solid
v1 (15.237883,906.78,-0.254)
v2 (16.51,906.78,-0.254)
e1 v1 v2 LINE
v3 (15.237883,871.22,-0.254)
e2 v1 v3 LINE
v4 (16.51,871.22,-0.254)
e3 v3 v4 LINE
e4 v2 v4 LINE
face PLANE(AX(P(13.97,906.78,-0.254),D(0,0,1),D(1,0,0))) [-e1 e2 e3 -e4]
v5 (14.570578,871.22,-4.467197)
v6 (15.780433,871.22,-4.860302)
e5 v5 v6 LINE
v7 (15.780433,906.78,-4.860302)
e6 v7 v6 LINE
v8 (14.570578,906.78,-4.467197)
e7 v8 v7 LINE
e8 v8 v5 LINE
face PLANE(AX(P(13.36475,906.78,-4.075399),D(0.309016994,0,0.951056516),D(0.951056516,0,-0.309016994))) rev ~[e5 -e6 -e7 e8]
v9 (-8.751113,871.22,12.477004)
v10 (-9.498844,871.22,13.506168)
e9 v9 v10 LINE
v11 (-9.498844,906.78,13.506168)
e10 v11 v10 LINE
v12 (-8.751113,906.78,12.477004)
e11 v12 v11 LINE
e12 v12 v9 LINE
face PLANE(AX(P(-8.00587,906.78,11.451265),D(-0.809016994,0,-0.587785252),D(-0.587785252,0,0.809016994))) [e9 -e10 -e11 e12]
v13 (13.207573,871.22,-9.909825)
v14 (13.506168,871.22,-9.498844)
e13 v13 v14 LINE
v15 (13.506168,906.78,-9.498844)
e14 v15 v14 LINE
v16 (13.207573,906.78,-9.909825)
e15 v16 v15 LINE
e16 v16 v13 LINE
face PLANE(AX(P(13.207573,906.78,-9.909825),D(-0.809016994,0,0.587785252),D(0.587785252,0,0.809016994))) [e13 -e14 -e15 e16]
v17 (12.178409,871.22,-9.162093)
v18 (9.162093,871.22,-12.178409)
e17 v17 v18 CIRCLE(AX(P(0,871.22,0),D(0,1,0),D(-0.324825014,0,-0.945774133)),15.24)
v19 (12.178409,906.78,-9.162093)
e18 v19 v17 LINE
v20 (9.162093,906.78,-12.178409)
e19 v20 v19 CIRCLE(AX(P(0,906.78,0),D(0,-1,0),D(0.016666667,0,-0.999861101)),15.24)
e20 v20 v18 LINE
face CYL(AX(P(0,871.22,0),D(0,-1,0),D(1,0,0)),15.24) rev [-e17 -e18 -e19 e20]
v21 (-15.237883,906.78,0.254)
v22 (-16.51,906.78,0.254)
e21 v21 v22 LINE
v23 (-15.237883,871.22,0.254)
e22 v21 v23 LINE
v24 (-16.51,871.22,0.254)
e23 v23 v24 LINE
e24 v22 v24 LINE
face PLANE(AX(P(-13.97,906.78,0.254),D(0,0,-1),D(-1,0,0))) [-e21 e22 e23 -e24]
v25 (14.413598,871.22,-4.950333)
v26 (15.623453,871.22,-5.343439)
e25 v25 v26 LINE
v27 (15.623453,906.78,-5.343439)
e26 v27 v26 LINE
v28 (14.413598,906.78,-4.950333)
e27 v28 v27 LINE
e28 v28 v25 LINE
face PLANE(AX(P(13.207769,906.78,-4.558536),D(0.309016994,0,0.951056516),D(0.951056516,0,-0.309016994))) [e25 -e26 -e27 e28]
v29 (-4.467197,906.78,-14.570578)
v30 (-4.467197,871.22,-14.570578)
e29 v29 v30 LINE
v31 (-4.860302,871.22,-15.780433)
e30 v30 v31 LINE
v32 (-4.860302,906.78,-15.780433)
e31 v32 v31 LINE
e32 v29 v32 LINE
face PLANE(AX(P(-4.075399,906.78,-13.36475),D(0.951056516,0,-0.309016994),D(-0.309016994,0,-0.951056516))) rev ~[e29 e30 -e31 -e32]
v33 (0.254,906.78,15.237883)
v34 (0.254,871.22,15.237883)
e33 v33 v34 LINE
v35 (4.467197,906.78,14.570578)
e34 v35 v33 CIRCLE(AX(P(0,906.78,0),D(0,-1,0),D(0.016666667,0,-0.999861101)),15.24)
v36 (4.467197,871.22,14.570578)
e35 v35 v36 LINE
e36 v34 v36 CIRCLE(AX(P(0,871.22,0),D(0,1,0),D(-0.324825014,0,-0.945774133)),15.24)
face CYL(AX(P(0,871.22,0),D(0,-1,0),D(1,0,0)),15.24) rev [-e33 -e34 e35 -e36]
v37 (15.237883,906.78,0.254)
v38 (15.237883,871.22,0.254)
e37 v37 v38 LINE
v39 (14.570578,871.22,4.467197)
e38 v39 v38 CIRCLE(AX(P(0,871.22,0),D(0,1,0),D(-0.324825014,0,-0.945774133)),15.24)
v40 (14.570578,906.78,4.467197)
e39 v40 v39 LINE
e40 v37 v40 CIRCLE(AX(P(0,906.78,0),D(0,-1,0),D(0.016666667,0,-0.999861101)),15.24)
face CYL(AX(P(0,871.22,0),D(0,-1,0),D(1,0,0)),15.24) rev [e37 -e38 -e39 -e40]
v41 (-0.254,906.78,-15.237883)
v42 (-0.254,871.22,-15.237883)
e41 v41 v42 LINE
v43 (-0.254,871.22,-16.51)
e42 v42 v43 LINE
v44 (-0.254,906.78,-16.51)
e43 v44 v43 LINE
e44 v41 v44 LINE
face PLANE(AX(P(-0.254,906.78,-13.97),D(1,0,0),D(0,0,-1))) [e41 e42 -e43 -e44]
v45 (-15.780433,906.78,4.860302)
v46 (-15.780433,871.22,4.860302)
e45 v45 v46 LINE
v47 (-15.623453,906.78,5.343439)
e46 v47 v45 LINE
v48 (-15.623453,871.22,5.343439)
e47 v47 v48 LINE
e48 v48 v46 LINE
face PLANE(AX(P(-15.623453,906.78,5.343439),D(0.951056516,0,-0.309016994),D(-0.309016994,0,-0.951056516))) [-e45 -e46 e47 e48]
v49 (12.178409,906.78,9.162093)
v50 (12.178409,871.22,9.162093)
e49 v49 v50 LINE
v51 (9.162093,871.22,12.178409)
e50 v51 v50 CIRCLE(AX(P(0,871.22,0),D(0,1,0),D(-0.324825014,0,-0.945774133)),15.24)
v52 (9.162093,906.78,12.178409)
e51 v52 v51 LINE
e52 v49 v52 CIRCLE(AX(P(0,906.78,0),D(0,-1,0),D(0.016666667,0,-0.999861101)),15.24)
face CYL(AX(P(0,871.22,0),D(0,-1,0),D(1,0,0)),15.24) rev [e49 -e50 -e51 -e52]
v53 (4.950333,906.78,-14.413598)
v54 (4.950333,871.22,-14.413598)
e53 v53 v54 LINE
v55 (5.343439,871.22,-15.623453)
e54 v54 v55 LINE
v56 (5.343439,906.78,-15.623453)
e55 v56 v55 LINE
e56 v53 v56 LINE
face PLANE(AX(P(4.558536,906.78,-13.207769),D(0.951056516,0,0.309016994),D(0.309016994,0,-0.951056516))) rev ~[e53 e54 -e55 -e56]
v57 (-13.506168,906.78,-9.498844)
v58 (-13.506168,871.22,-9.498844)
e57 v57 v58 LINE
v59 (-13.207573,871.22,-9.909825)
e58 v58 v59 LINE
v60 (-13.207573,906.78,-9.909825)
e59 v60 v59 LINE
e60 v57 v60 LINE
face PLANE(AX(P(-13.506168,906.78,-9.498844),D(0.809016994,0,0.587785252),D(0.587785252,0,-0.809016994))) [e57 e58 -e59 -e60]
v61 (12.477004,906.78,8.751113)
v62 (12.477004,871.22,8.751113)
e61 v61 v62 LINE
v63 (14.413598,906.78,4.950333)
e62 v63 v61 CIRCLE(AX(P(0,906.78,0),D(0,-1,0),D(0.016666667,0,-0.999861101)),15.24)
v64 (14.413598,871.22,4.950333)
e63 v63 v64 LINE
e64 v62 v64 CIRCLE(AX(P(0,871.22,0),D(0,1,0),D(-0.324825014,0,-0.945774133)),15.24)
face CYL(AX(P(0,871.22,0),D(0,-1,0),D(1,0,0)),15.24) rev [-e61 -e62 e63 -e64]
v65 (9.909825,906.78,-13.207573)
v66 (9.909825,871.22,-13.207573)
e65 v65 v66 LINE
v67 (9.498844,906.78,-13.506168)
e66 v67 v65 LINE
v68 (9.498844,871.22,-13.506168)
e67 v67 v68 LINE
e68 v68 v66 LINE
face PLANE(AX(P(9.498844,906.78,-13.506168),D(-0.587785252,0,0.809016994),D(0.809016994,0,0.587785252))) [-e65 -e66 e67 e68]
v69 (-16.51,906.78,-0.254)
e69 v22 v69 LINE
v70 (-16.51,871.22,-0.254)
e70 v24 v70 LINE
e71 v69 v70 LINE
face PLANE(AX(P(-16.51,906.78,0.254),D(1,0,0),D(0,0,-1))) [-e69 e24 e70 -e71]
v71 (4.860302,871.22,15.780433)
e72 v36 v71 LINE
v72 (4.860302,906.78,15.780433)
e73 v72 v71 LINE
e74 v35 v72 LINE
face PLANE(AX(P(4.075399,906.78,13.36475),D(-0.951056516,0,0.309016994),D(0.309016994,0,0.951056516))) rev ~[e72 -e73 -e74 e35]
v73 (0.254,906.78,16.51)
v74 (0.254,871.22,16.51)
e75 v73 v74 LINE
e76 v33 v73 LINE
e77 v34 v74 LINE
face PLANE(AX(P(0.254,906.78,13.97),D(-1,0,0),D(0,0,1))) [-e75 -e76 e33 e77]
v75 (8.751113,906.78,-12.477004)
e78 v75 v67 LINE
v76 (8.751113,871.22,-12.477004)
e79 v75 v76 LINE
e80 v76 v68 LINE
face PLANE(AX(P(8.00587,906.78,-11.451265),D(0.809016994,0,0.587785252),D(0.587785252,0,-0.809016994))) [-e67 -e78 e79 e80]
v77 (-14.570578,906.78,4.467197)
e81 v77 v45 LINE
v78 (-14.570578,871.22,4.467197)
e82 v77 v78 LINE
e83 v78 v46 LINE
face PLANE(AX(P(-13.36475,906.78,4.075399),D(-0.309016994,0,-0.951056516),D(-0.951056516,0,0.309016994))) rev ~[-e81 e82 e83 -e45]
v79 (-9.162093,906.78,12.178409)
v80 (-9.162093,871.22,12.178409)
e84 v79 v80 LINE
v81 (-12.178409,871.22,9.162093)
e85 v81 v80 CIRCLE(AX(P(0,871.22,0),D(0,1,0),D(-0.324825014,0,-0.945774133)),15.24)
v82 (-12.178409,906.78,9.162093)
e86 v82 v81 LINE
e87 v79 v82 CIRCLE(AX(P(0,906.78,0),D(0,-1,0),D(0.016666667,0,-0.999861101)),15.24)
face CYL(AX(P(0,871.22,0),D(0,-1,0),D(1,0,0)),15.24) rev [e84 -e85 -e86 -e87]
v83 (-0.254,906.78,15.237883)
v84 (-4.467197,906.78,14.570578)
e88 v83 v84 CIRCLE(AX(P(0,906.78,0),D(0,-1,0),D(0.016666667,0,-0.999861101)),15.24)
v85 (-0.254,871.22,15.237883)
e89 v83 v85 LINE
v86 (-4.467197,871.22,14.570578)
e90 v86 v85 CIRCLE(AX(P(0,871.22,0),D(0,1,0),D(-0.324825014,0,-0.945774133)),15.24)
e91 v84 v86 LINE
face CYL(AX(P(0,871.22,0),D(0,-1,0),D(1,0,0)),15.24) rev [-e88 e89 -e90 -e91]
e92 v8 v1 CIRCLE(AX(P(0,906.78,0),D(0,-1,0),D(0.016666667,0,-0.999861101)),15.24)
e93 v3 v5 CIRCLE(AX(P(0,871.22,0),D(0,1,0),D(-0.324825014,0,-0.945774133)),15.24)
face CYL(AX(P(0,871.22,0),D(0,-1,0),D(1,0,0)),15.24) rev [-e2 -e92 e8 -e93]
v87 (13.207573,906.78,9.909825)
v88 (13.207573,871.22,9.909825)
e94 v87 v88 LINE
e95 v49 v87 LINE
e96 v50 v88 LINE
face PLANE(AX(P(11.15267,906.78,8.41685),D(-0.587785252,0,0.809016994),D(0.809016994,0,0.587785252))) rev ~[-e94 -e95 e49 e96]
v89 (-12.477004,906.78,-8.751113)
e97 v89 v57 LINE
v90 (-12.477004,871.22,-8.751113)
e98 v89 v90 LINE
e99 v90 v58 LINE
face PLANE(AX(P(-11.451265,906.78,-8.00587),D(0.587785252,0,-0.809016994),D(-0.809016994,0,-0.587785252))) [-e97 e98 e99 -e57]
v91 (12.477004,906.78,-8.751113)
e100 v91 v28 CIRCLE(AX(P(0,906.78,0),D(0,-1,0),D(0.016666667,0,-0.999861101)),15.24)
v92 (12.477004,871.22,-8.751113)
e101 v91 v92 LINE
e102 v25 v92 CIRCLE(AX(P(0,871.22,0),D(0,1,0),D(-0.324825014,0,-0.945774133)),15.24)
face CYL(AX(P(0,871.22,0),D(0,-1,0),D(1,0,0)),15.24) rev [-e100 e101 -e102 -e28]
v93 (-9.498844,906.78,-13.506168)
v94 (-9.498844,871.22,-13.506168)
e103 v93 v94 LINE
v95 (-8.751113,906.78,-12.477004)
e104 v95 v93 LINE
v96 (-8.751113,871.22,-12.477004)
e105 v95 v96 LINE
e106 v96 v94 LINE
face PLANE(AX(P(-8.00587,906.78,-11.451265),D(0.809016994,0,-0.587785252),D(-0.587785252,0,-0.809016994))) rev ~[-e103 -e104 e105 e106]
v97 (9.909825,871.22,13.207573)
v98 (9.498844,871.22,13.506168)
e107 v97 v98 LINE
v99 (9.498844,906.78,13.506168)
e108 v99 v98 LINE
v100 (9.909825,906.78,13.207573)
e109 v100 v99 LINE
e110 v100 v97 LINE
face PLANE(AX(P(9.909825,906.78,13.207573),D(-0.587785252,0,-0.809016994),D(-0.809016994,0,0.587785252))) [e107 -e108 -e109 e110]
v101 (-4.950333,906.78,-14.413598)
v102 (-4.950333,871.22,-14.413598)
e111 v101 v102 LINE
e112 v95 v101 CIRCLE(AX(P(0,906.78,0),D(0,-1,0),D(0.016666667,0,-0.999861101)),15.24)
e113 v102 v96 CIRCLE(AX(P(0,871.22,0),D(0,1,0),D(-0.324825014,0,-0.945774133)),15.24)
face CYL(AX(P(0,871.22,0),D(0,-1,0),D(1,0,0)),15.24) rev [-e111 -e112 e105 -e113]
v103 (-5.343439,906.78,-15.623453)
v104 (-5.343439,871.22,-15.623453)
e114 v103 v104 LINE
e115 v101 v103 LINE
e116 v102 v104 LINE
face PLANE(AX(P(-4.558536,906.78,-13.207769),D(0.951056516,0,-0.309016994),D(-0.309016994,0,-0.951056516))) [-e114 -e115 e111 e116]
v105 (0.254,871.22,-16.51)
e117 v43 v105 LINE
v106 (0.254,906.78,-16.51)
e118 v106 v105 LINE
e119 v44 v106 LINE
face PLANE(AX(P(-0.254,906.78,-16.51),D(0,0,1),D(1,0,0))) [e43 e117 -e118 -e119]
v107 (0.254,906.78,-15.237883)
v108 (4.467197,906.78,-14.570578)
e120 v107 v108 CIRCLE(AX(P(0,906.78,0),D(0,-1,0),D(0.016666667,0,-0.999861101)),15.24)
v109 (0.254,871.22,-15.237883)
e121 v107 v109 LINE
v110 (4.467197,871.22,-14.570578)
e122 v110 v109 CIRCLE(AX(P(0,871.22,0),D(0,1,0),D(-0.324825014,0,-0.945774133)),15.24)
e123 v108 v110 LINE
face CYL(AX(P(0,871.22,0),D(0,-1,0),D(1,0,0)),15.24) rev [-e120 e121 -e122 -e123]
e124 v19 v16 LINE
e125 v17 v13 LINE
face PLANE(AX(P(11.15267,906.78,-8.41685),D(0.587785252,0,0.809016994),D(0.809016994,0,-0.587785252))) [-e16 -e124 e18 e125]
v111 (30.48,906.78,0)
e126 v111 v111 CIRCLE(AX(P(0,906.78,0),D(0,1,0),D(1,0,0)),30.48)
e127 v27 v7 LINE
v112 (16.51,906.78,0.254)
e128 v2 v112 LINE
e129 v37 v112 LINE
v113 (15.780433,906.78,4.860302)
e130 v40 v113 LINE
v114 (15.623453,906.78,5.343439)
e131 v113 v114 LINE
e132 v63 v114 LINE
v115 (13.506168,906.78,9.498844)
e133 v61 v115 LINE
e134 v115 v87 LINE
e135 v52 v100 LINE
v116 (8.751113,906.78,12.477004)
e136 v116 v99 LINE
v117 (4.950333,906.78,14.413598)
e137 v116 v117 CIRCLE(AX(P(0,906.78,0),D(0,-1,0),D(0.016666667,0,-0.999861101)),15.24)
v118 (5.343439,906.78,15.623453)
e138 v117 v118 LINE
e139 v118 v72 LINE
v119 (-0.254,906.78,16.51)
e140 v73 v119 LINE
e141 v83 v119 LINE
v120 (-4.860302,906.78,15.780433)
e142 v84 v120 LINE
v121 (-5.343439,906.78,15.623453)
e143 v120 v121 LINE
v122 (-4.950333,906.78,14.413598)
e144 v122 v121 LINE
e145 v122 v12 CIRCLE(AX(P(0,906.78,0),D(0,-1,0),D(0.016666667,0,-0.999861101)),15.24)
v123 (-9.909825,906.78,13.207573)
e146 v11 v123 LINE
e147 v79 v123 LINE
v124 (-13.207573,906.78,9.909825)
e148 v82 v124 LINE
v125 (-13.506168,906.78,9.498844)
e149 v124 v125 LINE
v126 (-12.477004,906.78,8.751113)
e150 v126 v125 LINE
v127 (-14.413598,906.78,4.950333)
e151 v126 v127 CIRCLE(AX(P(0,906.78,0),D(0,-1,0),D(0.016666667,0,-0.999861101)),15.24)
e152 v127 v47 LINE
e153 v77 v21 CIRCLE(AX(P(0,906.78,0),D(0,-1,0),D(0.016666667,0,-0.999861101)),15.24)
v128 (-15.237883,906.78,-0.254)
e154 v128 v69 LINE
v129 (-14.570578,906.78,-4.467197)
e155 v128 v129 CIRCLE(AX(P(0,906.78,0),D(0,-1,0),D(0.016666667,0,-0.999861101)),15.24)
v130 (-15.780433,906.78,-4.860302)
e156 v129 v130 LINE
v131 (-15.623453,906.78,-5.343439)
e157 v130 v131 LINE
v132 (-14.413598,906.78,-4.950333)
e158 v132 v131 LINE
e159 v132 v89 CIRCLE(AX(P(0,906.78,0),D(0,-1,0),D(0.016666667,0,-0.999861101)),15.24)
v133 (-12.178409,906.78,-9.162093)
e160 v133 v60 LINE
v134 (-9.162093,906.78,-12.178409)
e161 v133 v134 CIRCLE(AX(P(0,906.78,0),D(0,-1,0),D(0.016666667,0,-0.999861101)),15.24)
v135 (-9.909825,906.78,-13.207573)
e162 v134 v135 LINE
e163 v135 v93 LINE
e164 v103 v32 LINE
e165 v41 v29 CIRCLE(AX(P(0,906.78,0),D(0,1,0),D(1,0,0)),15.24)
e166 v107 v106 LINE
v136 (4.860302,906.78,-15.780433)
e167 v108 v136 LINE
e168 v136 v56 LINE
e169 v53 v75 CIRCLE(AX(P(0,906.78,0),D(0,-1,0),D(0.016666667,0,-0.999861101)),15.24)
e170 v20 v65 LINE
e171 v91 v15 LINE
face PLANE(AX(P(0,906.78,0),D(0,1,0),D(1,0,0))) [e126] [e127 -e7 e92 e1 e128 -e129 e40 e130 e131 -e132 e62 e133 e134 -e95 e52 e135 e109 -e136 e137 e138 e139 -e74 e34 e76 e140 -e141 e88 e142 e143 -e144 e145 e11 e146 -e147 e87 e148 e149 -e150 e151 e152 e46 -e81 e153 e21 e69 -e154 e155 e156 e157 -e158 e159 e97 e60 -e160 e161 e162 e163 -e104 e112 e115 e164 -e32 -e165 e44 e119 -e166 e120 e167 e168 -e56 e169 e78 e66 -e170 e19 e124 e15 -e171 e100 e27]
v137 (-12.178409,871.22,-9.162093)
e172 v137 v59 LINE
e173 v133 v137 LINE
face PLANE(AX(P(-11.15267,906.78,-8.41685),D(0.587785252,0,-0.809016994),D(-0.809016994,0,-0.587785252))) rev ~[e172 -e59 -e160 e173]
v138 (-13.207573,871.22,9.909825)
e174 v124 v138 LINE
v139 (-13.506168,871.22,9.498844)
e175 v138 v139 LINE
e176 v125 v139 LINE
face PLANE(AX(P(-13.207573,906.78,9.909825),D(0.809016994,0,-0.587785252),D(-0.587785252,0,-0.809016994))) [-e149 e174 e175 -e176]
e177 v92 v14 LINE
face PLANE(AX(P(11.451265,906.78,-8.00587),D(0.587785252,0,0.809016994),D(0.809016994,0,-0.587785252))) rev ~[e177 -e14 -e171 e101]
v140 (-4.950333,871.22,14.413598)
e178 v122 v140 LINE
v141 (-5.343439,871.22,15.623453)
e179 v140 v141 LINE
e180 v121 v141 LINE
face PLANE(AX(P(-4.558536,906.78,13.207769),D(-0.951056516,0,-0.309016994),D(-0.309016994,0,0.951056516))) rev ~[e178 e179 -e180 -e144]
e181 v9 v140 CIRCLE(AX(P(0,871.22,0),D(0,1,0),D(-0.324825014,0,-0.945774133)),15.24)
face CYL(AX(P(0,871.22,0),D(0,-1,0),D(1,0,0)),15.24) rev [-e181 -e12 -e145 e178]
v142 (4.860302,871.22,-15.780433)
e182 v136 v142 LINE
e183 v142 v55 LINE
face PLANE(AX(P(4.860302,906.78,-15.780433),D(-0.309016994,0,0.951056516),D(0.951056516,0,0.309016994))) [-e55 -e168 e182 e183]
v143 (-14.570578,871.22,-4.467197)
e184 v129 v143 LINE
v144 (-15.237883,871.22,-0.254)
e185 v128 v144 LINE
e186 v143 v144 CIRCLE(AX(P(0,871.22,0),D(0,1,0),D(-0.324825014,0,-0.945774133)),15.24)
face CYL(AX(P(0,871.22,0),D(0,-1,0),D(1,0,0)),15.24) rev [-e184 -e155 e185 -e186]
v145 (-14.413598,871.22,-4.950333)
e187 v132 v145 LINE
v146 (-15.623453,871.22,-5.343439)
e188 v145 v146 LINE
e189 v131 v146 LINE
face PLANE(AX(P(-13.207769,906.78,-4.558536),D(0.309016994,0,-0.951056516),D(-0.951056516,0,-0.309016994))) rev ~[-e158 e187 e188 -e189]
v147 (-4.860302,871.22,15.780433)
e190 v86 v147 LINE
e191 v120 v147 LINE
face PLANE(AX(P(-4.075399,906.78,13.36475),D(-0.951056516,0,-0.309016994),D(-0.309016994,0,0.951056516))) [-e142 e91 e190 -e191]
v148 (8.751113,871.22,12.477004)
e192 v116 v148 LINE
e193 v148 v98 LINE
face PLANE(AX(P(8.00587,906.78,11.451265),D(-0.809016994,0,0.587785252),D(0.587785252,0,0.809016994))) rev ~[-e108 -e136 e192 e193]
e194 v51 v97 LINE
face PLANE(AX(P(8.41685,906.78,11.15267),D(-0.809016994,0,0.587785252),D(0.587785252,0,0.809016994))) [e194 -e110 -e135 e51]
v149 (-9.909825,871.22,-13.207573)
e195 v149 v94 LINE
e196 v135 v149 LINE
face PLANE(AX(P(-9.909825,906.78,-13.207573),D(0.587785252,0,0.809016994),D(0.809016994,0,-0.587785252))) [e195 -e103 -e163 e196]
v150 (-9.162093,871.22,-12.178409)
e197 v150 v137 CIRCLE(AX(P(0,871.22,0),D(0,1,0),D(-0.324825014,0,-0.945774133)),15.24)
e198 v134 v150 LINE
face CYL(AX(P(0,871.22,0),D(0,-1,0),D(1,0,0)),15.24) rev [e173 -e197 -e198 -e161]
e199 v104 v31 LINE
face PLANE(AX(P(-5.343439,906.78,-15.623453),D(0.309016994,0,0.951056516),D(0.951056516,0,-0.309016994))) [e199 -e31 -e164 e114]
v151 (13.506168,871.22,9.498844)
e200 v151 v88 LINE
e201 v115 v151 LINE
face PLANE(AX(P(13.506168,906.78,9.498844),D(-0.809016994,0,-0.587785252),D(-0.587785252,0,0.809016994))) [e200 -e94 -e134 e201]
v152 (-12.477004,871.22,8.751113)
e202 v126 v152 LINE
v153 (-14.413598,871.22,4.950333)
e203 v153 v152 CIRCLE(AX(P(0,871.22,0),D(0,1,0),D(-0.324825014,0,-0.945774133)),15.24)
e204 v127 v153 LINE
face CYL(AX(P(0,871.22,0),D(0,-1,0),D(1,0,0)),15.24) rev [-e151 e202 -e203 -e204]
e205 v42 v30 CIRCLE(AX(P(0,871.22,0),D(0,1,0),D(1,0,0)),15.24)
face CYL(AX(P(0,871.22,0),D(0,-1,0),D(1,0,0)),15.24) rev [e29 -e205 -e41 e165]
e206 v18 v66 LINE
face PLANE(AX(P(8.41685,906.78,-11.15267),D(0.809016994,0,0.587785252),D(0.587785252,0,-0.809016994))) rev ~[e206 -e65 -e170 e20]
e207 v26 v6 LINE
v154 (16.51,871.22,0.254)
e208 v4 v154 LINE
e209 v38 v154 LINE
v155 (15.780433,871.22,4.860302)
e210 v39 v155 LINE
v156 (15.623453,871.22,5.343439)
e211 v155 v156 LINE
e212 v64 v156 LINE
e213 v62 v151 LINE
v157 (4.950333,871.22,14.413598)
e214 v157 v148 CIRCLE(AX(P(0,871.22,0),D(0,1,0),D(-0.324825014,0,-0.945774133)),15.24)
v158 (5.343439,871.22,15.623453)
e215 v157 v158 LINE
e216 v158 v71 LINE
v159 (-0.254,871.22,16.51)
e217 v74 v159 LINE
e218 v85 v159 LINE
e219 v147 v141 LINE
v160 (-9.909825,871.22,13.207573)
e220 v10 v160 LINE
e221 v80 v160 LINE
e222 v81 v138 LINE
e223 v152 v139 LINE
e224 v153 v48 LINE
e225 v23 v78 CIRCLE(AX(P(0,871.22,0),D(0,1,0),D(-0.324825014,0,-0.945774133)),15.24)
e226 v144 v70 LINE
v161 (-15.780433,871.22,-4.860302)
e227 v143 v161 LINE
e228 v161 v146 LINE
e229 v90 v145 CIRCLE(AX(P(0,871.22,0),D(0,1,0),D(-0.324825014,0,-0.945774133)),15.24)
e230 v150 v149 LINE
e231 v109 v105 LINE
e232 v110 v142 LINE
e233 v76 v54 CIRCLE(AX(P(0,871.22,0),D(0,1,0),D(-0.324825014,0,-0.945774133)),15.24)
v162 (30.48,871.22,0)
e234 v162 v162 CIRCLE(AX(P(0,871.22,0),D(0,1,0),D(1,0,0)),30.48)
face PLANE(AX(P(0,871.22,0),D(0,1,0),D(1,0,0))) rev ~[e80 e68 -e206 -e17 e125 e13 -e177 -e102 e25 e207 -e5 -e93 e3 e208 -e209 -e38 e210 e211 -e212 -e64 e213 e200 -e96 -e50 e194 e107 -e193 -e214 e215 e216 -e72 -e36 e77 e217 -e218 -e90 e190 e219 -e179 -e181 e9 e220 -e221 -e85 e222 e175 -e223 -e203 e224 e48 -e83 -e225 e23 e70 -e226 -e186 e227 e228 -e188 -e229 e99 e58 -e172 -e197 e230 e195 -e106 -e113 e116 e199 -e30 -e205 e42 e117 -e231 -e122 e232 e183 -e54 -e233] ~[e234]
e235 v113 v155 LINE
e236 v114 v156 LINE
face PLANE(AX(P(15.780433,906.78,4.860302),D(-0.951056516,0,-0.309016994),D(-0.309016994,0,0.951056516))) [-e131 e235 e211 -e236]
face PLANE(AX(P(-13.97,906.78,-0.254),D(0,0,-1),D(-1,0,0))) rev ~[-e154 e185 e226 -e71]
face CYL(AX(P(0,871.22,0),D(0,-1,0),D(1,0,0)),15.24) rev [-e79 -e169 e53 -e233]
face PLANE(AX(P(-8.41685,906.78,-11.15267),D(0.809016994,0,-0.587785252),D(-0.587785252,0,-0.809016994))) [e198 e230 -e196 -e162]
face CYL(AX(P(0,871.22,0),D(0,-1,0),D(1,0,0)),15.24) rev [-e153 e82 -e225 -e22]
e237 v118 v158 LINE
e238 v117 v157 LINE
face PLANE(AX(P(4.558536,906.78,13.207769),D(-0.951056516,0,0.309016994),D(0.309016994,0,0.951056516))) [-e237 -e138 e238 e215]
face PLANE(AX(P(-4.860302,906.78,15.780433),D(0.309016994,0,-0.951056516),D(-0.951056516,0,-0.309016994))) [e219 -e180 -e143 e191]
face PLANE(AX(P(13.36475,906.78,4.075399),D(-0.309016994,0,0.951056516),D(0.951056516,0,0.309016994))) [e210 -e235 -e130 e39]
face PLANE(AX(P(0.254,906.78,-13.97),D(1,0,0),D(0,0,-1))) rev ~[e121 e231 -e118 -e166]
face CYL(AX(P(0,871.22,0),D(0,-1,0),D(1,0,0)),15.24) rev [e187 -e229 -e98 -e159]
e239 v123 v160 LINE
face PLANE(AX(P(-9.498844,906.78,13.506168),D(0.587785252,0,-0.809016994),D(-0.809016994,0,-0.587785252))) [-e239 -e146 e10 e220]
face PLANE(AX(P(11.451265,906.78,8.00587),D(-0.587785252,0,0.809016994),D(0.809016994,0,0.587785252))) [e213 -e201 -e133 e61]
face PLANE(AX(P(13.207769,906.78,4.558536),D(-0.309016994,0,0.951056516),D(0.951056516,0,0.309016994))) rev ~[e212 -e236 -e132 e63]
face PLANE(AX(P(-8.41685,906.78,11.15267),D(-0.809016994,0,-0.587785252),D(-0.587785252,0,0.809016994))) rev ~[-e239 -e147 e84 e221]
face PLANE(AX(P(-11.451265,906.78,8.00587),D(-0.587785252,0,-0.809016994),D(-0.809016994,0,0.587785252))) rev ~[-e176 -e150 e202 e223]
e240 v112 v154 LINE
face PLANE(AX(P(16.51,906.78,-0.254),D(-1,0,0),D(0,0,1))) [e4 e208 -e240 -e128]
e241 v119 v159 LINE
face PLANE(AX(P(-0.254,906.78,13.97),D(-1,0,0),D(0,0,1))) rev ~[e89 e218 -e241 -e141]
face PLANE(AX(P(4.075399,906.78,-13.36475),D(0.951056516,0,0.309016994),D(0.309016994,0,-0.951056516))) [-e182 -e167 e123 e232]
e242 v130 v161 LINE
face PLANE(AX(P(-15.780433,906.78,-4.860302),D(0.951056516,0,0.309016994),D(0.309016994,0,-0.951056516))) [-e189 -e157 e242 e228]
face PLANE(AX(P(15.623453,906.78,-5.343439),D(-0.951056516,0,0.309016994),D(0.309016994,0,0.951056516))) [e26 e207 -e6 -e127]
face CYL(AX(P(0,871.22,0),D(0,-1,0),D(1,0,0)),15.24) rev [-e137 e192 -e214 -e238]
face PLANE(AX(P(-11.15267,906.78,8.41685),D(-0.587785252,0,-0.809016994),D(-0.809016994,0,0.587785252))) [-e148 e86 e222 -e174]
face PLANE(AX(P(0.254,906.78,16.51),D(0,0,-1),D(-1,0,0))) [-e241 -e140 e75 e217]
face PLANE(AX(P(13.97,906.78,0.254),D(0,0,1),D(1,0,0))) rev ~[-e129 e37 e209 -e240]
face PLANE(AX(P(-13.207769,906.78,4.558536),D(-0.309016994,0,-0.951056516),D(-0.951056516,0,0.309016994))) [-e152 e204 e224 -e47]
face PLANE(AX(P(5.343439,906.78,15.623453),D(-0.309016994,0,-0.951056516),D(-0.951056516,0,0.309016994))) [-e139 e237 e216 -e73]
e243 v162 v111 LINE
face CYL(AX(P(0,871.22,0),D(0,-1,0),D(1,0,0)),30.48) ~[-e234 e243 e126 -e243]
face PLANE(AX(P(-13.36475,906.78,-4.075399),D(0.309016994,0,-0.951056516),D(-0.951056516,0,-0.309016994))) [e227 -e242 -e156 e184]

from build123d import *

# Parameters (mm, degrees)
SKETCH1_R           = 1524
SKETCH1_R_2         = 762
EXTRUDE_THIN1_DEPTH = 1778
SKETCH2_W           = 25.4
SKETCH2_H           = 127
CUT_EXTRUDE1_DEPTH  = 2795
CIRPATTERN1_COUNT   = 20
SCALE1_SCALE        = 0.02


with BuildPart() as part:
    # Sketch1 → Extrude-Thin1 (new body)
    with BuildSketch(Plane(origin=(0, 0, 0), x_dir=(1, 0, 0), z_dir=(0, 1, 0))):
        Circle(SKETCH1_R)
        Circle(SKETCH1_R_2, mode=Mode.SUBTRACT)
    extrude(amount=EXTRUDE_THIN1_DEPTH)

    # Sketch2 → Cut-Extrude1 (cut, through all)
    with BuildSketch(Plane(origin=(0, 1778, 0), x_dir=(1, 0, 0), z_dir=(0, 1, 0))):
        with Locations((0, 762)):
            Rectangle(SKETCH2_W, SKETCH2_H)
    cut_extrude1 = extrude(amount=-CUT_EXTRUDE1_DEPTH, mode=Mode.SUBTRACT)

    # CirPattern1: Cut-Extrude1 ×20 about axis
    cirpattern1_axis = Axis((0, 0, 0), (0, 1, 0))
    for i in range(1, CIRPATTERN1_COUNT):
        add(cut_extrude1.rotate(cirpattern1_axis, i * 360 / CIRPATTERN1_COUNT), mode=Mode.SUBTRACT)


with BuildPart() as part_1:
    # Scale1: scaled about (0, 889, 0)
    add(part.part.scale(SCALE1_SCALE).moved(Location((0, 871.22, 0))))


solid = part_1.part
